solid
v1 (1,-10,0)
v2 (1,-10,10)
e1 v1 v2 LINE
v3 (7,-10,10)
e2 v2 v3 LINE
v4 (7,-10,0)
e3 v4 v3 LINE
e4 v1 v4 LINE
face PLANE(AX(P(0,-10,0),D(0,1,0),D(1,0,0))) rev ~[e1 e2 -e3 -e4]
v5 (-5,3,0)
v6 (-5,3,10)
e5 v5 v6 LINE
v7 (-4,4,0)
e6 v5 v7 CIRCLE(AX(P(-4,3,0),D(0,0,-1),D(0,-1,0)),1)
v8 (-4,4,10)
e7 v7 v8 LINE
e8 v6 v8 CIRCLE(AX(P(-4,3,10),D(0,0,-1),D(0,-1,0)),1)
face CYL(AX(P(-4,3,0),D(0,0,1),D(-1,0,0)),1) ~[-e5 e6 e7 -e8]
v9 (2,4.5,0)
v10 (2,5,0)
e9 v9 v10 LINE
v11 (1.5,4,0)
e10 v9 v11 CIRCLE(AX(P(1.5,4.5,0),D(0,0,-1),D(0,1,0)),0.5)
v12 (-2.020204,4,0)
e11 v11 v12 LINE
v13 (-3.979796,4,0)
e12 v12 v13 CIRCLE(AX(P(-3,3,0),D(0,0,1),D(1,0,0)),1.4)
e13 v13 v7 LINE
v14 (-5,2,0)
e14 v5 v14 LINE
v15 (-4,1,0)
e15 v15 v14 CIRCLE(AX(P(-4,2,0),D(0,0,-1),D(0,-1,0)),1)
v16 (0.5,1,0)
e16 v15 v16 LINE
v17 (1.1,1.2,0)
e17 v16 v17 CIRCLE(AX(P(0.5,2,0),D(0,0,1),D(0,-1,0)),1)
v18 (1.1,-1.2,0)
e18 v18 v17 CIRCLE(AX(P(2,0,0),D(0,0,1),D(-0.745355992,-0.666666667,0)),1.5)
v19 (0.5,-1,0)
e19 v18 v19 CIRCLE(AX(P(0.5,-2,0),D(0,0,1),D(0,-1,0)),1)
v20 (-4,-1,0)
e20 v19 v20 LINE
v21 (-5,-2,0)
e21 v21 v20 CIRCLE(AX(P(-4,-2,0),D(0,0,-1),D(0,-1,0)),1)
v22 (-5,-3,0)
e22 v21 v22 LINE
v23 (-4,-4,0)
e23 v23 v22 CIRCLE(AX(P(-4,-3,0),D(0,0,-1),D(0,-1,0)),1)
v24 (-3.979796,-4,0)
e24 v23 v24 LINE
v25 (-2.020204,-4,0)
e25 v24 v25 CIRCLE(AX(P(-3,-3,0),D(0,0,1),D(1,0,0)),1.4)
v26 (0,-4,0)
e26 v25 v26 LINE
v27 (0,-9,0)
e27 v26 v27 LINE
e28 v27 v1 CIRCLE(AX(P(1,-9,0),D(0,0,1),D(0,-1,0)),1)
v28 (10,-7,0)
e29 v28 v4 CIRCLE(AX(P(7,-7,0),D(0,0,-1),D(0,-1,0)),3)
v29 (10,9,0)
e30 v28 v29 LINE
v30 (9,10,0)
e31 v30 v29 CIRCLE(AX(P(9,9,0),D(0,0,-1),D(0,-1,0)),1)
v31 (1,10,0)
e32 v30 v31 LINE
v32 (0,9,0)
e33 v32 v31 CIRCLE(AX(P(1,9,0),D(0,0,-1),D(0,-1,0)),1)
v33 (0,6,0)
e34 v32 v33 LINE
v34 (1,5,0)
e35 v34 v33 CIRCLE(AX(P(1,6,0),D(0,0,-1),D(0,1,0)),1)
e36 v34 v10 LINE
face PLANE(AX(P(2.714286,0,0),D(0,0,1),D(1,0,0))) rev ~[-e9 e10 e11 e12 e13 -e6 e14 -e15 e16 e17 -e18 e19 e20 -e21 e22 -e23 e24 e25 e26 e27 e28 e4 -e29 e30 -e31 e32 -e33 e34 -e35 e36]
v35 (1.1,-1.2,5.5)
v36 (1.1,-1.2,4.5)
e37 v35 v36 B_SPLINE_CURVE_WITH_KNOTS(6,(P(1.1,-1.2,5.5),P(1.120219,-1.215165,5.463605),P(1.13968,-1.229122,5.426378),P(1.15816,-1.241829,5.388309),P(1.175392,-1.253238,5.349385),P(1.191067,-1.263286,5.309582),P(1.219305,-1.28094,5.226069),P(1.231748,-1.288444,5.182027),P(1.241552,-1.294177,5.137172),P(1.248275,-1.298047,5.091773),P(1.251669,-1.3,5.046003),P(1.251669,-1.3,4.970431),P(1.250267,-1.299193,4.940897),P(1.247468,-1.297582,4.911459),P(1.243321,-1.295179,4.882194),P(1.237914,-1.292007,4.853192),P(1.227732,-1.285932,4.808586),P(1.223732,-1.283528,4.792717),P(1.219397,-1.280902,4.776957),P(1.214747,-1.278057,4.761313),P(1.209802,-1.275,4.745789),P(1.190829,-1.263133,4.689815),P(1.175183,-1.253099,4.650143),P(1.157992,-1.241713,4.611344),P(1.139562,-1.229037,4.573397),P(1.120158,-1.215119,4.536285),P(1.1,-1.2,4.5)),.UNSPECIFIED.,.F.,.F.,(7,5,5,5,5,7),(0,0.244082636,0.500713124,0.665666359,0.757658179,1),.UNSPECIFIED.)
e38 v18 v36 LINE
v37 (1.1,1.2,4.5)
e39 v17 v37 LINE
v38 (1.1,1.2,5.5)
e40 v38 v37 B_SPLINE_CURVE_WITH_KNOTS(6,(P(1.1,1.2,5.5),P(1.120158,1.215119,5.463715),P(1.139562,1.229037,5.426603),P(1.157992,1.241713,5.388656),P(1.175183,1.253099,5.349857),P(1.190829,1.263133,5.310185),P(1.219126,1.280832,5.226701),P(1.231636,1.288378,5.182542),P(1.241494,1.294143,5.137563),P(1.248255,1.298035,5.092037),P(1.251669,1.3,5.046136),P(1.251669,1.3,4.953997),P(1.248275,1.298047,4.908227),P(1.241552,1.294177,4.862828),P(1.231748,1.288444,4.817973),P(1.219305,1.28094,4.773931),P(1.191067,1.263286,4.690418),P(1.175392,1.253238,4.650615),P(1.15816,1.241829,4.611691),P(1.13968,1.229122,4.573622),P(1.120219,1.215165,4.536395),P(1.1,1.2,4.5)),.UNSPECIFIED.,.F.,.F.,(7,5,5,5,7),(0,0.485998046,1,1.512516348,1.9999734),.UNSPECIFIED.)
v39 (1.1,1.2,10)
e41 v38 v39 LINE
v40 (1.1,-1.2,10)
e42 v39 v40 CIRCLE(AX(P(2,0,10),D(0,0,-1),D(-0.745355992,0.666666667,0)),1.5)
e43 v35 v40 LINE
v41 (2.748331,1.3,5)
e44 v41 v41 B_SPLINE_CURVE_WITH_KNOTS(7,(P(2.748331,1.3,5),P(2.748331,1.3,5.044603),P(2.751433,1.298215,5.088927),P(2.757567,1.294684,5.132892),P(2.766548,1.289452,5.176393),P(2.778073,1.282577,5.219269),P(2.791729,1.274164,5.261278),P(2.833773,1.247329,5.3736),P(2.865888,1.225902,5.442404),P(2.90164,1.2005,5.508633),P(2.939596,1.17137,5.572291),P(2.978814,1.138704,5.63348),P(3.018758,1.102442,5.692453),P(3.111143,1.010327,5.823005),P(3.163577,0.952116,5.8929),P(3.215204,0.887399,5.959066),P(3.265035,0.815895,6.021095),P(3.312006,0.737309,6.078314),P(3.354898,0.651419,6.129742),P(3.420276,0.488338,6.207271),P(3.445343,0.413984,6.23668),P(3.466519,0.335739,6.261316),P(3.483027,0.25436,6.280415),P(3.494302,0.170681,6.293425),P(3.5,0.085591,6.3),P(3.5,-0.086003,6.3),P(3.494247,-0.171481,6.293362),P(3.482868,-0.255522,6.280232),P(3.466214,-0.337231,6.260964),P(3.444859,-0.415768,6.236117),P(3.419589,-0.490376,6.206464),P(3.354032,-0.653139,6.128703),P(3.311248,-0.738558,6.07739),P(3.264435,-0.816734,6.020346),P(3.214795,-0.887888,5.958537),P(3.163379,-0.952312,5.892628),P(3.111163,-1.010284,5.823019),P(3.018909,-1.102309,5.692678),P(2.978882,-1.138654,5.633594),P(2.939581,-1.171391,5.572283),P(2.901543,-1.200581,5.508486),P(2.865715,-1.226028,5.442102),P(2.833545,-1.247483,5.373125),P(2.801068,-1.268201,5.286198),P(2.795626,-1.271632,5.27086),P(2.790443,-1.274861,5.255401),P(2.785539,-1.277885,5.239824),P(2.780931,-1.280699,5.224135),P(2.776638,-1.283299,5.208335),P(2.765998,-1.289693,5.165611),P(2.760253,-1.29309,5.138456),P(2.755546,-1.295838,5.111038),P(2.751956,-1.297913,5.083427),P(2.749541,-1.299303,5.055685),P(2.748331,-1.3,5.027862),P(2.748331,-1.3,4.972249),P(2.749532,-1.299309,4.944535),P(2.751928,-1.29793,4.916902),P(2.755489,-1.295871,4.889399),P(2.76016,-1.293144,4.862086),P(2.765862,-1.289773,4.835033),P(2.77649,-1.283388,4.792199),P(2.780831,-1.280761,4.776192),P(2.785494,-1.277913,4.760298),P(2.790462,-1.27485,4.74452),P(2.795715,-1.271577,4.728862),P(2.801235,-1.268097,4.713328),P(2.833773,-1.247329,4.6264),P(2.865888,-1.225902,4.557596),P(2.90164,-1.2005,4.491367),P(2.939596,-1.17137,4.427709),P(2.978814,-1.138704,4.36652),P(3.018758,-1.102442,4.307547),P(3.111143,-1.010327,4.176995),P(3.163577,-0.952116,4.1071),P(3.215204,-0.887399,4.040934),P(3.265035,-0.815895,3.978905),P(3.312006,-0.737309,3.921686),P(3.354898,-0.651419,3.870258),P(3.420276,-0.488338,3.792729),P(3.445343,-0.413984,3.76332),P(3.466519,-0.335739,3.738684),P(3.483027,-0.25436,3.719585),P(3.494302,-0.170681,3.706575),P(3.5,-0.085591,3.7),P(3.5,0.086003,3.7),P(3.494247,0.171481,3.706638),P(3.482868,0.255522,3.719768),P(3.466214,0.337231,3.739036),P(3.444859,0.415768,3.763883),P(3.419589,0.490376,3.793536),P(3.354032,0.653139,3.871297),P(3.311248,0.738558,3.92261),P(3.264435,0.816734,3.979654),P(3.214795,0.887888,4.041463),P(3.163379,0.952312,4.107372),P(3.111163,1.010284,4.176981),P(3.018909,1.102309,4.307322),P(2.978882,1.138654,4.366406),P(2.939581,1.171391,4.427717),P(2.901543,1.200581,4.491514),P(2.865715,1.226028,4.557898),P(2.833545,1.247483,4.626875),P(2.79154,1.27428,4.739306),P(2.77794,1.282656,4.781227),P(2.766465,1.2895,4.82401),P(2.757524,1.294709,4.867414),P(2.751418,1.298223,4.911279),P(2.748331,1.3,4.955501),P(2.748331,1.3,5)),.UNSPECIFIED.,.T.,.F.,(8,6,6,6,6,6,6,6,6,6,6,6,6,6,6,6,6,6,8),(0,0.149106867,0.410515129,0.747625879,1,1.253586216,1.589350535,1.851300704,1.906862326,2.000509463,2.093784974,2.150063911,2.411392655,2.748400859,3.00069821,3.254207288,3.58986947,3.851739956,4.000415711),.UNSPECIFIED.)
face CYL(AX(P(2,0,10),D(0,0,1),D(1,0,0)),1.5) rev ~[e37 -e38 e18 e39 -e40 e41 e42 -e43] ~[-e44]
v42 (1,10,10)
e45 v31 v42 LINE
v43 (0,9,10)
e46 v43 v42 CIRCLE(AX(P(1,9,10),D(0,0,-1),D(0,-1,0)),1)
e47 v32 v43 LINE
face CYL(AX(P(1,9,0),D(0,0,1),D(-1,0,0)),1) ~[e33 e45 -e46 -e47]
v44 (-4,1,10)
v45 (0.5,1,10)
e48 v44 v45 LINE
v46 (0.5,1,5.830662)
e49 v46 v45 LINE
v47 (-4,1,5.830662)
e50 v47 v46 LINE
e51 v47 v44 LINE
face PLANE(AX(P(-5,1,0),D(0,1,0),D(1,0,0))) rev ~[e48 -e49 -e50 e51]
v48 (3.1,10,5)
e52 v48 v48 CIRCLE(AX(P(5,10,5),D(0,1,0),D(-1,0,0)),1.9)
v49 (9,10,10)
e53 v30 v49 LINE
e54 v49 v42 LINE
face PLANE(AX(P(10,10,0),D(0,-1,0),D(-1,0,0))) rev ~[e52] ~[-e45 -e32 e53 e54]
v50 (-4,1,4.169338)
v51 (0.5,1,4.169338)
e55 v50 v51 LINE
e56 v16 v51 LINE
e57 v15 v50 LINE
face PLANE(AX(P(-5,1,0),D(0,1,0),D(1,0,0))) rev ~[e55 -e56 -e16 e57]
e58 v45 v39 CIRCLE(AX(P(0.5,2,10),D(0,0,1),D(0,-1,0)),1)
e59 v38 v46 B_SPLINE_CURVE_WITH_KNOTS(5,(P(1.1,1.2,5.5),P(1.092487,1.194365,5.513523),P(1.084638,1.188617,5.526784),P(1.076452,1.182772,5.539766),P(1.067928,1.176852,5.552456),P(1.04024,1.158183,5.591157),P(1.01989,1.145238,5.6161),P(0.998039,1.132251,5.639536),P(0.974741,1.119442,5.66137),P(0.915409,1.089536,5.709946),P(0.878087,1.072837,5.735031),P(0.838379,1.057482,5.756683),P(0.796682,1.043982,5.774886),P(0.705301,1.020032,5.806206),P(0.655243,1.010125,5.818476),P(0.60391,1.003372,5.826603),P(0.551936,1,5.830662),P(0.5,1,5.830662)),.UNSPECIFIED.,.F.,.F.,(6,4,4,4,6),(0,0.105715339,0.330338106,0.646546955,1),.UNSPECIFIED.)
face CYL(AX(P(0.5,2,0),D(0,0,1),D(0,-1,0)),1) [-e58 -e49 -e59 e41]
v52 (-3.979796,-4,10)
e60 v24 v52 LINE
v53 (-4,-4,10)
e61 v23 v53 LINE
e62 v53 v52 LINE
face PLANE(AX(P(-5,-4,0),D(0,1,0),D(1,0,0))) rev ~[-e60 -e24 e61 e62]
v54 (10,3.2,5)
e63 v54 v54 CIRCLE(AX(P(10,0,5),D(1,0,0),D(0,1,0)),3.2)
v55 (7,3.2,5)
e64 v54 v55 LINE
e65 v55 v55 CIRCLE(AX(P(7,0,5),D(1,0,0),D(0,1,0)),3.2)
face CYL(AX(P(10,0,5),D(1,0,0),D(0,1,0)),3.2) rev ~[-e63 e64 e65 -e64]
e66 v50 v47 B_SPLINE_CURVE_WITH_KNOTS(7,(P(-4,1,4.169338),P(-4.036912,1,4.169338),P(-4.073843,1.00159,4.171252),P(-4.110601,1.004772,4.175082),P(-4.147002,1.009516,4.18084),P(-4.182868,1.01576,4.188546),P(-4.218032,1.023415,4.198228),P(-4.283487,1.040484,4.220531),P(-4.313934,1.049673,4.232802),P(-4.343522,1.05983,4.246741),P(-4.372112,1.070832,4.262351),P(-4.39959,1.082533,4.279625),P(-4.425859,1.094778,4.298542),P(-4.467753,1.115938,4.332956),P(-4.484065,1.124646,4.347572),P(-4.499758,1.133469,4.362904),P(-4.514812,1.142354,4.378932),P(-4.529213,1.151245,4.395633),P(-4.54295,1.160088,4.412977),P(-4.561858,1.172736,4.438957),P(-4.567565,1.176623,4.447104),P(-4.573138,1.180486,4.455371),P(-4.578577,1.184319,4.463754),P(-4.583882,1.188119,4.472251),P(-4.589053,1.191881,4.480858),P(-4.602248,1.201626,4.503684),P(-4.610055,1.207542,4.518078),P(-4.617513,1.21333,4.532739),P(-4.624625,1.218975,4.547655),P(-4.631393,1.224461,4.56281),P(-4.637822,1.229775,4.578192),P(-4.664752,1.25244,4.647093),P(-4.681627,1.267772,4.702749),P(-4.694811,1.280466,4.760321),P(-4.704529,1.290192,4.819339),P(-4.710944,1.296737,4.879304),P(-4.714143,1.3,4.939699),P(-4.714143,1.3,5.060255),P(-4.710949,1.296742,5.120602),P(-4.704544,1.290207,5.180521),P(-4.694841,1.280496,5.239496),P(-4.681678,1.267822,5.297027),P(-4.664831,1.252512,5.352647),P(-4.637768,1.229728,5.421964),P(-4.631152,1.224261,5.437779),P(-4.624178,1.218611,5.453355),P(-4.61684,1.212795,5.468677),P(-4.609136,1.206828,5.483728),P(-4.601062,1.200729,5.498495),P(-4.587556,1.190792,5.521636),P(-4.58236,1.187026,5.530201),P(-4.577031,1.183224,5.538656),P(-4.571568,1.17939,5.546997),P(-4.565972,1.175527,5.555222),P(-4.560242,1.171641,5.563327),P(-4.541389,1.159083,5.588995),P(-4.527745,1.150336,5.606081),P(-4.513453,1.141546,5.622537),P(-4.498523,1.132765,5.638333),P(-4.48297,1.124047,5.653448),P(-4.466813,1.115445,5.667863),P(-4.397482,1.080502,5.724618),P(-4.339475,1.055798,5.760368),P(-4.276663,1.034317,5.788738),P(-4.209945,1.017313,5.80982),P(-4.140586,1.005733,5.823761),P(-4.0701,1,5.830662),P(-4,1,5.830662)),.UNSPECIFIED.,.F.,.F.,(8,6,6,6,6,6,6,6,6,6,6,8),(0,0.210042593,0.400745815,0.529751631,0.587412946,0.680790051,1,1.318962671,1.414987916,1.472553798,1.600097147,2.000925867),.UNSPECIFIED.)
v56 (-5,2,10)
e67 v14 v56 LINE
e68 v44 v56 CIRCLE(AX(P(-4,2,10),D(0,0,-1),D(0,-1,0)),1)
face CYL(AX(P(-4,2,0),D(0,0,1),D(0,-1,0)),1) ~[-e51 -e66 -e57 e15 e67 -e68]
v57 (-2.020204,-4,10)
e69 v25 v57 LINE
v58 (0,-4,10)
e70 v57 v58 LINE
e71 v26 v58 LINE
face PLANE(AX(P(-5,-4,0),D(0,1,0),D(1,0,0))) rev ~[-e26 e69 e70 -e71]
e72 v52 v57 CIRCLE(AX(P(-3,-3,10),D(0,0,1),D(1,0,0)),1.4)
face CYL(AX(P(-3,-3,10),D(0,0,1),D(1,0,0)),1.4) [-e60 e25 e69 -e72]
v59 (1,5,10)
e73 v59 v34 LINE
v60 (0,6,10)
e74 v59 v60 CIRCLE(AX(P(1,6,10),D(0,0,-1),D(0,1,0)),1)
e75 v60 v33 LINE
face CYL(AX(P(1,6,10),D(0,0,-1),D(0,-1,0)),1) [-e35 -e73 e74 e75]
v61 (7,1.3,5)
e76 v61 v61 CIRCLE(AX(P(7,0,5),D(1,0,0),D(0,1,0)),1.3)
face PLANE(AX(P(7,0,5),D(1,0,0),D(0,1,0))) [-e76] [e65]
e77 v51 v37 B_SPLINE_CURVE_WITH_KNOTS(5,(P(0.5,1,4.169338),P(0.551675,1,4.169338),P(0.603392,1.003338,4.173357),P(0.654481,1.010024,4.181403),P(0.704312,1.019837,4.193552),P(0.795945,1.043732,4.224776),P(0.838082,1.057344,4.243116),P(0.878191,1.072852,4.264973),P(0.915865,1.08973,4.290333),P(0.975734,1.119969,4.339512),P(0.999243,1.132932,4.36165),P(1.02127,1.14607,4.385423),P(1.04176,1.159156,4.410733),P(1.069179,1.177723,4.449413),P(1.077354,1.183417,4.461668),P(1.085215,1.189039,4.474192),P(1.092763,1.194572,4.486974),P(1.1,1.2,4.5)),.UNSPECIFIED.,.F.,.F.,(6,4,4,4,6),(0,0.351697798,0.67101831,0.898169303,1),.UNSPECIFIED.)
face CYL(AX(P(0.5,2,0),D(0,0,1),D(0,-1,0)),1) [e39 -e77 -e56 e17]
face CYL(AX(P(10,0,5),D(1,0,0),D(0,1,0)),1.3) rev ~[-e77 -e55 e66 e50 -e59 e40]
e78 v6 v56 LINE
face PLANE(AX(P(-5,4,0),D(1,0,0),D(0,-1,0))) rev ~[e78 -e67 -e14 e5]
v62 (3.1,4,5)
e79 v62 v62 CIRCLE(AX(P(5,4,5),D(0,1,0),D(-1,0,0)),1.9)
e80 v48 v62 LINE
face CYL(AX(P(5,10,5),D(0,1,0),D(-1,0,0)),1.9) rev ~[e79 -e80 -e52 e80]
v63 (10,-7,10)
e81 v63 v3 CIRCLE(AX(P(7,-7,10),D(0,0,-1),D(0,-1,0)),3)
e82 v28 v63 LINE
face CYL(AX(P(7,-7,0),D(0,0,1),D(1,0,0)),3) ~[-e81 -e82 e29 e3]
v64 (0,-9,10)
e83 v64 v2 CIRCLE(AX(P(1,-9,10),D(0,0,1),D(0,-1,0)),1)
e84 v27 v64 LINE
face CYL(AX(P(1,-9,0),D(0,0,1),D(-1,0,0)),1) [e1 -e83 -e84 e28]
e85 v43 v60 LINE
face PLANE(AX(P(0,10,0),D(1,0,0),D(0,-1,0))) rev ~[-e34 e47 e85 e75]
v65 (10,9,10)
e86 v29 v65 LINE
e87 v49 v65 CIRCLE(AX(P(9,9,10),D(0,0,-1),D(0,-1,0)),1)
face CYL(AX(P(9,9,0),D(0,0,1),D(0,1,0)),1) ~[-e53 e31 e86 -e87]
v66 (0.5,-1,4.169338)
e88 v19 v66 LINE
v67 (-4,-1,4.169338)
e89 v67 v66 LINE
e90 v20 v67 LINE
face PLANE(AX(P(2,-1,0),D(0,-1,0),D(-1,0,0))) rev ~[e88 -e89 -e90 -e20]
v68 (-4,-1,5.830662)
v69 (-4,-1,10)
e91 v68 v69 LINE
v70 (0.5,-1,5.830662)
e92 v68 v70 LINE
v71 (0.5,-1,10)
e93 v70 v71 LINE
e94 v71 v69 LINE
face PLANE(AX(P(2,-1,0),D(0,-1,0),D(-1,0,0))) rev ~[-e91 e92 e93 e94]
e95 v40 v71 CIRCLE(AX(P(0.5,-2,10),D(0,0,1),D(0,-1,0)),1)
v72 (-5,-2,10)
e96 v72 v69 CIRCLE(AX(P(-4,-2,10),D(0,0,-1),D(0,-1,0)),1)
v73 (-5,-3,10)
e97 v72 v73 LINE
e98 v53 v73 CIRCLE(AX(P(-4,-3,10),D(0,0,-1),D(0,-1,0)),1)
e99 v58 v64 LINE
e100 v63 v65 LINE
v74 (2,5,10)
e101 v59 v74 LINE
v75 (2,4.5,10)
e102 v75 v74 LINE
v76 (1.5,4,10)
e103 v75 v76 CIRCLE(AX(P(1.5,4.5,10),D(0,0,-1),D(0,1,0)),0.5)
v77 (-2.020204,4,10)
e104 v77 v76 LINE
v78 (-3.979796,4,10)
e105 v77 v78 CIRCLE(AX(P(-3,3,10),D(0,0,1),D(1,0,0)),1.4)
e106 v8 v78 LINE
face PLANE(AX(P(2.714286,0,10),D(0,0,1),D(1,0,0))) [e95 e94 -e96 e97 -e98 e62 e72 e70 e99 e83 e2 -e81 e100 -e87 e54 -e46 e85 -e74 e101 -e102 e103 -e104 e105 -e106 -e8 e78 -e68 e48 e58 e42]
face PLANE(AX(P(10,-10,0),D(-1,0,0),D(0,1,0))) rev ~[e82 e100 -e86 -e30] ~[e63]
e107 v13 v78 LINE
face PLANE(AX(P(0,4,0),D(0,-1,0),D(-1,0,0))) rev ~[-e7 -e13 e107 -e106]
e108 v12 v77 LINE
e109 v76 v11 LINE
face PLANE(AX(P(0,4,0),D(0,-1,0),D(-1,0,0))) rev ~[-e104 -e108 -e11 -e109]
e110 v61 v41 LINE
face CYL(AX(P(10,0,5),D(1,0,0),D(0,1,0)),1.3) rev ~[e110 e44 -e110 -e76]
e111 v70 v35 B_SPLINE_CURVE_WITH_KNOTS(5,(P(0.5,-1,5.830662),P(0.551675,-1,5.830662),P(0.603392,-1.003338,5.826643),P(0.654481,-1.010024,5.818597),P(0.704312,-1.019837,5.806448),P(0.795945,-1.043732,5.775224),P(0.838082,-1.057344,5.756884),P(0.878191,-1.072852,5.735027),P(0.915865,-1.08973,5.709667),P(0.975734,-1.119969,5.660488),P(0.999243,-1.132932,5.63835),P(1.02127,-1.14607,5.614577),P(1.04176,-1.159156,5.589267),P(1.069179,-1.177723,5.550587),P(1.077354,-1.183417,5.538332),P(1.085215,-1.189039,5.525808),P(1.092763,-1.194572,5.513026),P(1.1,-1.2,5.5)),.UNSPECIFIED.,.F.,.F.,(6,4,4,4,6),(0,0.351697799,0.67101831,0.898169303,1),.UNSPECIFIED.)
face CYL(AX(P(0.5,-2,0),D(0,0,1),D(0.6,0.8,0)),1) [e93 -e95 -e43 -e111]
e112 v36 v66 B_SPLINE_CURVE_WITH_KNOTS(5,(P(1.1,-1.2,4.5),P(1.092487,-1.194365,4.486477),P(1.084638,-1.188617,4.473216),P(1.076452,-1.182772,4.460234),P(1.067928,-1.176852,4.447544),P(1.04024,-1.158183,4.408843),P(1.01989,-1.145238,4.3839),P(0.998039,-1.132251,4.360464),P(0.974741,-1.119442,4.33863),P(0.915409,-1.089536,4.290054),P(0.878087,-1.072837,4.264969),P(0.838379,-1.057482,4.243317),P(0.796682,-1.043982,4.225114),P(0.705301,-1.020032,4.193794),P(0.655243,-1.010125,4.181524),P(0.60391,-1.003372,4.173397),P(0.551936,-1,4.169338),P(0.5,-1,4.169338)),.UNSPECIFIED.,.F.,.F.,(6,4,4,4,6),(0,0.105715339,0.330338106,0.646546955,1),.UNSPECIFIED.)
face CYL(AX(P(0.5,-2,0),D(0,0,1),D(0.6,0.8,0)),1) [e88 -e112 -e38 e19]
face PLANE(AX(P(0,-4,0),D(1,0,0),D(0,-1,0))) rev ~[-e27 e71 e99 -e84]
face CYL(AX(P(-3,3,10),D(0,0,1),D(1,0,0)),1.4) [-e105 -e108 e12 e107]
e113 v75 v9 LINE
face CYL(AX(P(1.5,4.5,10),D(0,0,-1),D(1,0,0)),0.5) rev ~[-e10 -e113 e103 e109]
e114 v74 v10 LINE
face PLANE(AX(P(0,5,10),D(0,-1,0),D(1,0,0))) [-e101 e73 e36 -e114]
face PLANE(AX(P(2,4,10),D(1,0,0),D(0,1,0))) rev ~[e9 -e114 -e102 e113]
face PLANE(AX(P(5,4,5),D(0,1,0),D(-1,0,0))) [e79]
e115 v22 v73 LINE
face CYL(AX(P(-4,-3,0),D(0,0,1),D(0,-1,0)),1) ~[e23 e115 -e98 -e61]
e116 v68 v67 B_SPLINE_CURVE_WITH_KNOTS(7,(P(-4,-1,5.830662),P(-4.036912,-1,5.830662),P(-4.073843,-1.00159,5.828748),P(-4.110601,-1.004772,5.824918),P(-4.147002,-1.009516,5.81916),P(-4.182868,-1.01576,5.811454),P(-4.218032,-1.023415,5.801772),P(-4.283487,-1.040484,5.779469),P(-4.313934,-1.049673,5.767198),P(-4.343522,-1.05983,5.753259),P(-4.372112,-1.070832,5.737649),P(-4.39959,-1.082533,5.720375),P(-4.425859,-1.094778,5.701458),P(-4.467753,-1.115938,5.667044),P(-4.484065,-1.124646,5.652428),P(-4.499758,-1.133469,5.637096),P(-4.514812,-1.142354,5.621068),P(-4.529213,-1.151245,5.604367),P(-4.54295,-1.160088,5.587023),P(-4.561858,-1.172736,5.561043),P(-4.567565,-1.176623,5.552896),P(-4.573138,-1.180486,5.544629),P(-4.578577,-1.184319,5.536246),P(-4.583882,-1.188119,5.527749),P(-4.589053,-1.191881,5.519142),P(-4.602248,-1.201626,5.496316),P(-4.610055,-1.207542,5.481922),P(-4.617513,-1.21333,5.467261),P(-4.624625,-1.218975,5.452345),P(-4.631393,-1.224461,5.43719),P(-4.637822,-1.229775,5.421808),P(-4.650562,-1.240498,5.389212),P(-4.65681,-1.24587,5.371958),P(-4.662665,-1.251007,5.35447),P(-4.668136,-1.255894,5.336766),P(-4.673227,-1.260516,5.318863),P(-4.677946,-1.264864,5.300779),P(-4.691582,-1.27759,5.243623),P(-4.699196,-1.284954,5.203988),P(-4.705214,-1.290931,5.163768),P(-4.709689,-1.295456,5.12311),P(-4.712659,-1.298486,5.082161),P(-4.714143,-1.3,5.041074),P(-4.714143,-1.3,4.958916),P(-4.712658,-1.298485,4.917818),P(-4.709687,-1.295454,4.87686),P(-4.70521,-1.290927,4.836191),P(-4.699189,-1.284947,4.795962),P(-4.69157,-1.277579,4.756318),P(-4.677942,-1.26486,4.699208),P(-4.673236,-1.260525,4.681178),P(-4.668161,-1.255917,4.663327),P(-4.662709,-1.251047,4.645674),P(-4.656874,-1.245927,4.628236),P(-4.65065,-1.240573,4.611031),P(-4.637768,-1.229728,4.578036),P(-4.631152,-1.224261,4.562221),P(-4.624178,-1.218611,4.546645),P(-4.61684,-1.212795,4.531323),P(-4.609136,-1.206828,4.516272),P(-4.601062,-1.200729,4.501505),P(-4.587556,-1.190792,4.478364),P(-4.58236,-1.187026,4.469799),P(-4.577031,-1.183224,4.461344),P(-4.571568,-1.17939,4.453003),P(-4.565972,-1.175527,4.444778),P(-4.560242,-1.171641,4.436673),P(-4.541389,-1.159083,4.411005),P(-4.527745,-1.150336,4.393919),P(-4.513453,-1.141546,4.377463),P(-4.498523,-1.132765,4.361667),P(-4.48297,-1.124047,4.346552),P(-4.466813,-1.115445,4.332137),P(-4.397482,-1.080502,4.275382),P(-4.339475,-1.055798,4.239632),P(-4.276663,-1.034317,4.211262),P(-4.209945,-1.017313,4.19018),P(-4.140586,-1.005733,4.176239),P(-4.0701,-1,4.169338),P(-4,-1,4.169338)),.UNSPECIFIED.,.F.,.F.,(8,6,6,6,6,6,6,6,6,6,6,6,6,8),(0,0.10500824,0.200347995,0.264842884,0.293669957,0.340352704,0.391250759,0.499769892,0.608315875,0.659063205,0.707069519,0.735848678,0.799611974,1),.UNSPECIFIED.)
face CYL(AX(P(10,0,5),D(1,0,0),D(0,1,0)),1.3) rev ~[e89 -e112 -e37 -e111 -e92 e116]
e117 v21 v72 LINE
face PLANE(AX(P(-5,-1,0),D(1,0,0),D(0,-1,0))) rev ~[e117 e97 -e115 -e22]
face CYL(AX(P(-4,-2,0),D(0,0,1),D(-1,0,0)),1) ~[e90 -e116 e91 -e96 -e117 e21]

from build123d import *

# Parameters (mm, degrees)
PAD_DEPTH       = 10
SKETCH001_R     = 1.5
SKETCH001_W     = 2
SKETCH001_H     = 1
POCKET_DEPTH    = 10.001
SKETCH002_R     = 1.4
PAD001_DEPTH    = 10
FILLET_R        = 1
FILLET001_R     = 1
FILLET002_R     = 1
FILLET003_R     = 3
SKETCH003_R     = 1.9
POCKET001_DEPTH = 6
FILLET004_R     = 0.5
FILLET005_R     = 1
SKETCH004_R     = 3.2
POCKET002_DEPTH = 3
SKETCH005_R     = 1.3
POCKET003_DEPTH = 15.001


with BuildPart() as part:
    # Sketch → Pad (new body)
    with BuildSketch(Plane.XY):
        Polygon((0, 4), (-5, 4), (-5, 1), (2, 1), (2, -1), (-5, -1), (-5, -4), (0, -4), (0, -10), (10, -10), (10, 10), (0, 10), align=None)
    extrude(amount=PAD_DEPTH)

    # Sketch001 (on Face14 of Pad) → Pocket (cut, through all)
    with BuildSketch(Plane.XY.offset(10)):
        with Locations((2, 0)):
            Circle(SKETCH001_R)
        with Locations((1, 4.5)):
            Rectangle(SKETCH001_W, SKETCH001_H)
    extrude(amount=-POCKET_DEPTH, mode=Mode.SUBTRACT)

    # Sketch002 (on Face4 of Pocket) → Pad001 (join)
    with BuildSketch(Plane.XY.offset(10)):
        with Locations((-3, 3)):
            Circle(SKETCH002_R)
        with Locations((-3, -3)):
            Circle(SKETCH002_R)
    extrude(amount=-PAD001_DEPTH)

    # Fillet
    fillet_edges = [part.edges().sort_by_distance(p)[0] for p in [
        (-5, 4, 5),
        (-5, 1, 5),
        (-5, -1, 5),
        (-5, -4, 5),
    ]]
    fillet(fillet_edges, radius=FILLET_R)

    # Fillet001
    fillet001_edges = [part.edges().sort_by_distance(p)[0] for p in [
        (0.881966, 1, 5),
        (0.881966, -1, 5),
    ]]
    fillet(fillet001_edges, radius=FILLET001_R)

    # Fillet002
    fillet002_edges = [part.edges().sort_by_distance(p)[0] for p in [
        (0, 5, 5),
        (0, -10, 5),
    ]]
    fillet(fillet002_edges, radius=FILLET002_R)

    # Fillet003
    fillet003_edges = [part.edges().sort_by_distance(p)[0] for p in [
        (10, -10, 5),
    ]]
    fillet(fillet003_edges, radius=FILLET003_R)

    # Sketch003 (on Face7 of Fillet003) → Pocket001 (cut)
    with BuildSketch(Plane(origin=(0, 10, 0), x_dir=(-1, 0, 0), z_dir=(0, 1, 0))):
        with Locations((-5, 5)):
            Circle(SKETCH003_R)
    extrude(amount=-POCKET001_DEPTH, mode=Mode.SUBTRACT)

    # Fillet004
    fillet004_edges = [part.edges().sort_by_distance(p)[0] for p in [
        (2, 4, 5),
    ]]
    fillet(fillet004_edges, radius=FILLET004_R)

    # Fillet005
    fillet005_edges = [part.edges().sort_by_distance(p)[0] for p in [
        (0, 10, 5),
        (10, 10, 5),
    ]]
    fillet(fillet005_edges, radius=FILLET005_R)

    # Sketch004 (on Face9 of Fillet005) → Pocket002 (cut)
    with BuildSketch(Plane.YZ.offset(10)):
        with Locations((0, 5)):
            Circle(SKETCH004_R)
    extrude(amount=-POCKET002_DEPTH, mode=Mode.SUBTRACT)

    # Sketch005 (on Face9 of Pocket002) → Pocket003 (cut, through all)
    with BuildSketch(Plane.YZ.offset(10)):
        with Locations((0, 5)):
            Circle(SKETCH005_R)
    extrude(amount=-POCKET003_DEPTH, mode=Mode.SUBTRACT)


solid = part.part
